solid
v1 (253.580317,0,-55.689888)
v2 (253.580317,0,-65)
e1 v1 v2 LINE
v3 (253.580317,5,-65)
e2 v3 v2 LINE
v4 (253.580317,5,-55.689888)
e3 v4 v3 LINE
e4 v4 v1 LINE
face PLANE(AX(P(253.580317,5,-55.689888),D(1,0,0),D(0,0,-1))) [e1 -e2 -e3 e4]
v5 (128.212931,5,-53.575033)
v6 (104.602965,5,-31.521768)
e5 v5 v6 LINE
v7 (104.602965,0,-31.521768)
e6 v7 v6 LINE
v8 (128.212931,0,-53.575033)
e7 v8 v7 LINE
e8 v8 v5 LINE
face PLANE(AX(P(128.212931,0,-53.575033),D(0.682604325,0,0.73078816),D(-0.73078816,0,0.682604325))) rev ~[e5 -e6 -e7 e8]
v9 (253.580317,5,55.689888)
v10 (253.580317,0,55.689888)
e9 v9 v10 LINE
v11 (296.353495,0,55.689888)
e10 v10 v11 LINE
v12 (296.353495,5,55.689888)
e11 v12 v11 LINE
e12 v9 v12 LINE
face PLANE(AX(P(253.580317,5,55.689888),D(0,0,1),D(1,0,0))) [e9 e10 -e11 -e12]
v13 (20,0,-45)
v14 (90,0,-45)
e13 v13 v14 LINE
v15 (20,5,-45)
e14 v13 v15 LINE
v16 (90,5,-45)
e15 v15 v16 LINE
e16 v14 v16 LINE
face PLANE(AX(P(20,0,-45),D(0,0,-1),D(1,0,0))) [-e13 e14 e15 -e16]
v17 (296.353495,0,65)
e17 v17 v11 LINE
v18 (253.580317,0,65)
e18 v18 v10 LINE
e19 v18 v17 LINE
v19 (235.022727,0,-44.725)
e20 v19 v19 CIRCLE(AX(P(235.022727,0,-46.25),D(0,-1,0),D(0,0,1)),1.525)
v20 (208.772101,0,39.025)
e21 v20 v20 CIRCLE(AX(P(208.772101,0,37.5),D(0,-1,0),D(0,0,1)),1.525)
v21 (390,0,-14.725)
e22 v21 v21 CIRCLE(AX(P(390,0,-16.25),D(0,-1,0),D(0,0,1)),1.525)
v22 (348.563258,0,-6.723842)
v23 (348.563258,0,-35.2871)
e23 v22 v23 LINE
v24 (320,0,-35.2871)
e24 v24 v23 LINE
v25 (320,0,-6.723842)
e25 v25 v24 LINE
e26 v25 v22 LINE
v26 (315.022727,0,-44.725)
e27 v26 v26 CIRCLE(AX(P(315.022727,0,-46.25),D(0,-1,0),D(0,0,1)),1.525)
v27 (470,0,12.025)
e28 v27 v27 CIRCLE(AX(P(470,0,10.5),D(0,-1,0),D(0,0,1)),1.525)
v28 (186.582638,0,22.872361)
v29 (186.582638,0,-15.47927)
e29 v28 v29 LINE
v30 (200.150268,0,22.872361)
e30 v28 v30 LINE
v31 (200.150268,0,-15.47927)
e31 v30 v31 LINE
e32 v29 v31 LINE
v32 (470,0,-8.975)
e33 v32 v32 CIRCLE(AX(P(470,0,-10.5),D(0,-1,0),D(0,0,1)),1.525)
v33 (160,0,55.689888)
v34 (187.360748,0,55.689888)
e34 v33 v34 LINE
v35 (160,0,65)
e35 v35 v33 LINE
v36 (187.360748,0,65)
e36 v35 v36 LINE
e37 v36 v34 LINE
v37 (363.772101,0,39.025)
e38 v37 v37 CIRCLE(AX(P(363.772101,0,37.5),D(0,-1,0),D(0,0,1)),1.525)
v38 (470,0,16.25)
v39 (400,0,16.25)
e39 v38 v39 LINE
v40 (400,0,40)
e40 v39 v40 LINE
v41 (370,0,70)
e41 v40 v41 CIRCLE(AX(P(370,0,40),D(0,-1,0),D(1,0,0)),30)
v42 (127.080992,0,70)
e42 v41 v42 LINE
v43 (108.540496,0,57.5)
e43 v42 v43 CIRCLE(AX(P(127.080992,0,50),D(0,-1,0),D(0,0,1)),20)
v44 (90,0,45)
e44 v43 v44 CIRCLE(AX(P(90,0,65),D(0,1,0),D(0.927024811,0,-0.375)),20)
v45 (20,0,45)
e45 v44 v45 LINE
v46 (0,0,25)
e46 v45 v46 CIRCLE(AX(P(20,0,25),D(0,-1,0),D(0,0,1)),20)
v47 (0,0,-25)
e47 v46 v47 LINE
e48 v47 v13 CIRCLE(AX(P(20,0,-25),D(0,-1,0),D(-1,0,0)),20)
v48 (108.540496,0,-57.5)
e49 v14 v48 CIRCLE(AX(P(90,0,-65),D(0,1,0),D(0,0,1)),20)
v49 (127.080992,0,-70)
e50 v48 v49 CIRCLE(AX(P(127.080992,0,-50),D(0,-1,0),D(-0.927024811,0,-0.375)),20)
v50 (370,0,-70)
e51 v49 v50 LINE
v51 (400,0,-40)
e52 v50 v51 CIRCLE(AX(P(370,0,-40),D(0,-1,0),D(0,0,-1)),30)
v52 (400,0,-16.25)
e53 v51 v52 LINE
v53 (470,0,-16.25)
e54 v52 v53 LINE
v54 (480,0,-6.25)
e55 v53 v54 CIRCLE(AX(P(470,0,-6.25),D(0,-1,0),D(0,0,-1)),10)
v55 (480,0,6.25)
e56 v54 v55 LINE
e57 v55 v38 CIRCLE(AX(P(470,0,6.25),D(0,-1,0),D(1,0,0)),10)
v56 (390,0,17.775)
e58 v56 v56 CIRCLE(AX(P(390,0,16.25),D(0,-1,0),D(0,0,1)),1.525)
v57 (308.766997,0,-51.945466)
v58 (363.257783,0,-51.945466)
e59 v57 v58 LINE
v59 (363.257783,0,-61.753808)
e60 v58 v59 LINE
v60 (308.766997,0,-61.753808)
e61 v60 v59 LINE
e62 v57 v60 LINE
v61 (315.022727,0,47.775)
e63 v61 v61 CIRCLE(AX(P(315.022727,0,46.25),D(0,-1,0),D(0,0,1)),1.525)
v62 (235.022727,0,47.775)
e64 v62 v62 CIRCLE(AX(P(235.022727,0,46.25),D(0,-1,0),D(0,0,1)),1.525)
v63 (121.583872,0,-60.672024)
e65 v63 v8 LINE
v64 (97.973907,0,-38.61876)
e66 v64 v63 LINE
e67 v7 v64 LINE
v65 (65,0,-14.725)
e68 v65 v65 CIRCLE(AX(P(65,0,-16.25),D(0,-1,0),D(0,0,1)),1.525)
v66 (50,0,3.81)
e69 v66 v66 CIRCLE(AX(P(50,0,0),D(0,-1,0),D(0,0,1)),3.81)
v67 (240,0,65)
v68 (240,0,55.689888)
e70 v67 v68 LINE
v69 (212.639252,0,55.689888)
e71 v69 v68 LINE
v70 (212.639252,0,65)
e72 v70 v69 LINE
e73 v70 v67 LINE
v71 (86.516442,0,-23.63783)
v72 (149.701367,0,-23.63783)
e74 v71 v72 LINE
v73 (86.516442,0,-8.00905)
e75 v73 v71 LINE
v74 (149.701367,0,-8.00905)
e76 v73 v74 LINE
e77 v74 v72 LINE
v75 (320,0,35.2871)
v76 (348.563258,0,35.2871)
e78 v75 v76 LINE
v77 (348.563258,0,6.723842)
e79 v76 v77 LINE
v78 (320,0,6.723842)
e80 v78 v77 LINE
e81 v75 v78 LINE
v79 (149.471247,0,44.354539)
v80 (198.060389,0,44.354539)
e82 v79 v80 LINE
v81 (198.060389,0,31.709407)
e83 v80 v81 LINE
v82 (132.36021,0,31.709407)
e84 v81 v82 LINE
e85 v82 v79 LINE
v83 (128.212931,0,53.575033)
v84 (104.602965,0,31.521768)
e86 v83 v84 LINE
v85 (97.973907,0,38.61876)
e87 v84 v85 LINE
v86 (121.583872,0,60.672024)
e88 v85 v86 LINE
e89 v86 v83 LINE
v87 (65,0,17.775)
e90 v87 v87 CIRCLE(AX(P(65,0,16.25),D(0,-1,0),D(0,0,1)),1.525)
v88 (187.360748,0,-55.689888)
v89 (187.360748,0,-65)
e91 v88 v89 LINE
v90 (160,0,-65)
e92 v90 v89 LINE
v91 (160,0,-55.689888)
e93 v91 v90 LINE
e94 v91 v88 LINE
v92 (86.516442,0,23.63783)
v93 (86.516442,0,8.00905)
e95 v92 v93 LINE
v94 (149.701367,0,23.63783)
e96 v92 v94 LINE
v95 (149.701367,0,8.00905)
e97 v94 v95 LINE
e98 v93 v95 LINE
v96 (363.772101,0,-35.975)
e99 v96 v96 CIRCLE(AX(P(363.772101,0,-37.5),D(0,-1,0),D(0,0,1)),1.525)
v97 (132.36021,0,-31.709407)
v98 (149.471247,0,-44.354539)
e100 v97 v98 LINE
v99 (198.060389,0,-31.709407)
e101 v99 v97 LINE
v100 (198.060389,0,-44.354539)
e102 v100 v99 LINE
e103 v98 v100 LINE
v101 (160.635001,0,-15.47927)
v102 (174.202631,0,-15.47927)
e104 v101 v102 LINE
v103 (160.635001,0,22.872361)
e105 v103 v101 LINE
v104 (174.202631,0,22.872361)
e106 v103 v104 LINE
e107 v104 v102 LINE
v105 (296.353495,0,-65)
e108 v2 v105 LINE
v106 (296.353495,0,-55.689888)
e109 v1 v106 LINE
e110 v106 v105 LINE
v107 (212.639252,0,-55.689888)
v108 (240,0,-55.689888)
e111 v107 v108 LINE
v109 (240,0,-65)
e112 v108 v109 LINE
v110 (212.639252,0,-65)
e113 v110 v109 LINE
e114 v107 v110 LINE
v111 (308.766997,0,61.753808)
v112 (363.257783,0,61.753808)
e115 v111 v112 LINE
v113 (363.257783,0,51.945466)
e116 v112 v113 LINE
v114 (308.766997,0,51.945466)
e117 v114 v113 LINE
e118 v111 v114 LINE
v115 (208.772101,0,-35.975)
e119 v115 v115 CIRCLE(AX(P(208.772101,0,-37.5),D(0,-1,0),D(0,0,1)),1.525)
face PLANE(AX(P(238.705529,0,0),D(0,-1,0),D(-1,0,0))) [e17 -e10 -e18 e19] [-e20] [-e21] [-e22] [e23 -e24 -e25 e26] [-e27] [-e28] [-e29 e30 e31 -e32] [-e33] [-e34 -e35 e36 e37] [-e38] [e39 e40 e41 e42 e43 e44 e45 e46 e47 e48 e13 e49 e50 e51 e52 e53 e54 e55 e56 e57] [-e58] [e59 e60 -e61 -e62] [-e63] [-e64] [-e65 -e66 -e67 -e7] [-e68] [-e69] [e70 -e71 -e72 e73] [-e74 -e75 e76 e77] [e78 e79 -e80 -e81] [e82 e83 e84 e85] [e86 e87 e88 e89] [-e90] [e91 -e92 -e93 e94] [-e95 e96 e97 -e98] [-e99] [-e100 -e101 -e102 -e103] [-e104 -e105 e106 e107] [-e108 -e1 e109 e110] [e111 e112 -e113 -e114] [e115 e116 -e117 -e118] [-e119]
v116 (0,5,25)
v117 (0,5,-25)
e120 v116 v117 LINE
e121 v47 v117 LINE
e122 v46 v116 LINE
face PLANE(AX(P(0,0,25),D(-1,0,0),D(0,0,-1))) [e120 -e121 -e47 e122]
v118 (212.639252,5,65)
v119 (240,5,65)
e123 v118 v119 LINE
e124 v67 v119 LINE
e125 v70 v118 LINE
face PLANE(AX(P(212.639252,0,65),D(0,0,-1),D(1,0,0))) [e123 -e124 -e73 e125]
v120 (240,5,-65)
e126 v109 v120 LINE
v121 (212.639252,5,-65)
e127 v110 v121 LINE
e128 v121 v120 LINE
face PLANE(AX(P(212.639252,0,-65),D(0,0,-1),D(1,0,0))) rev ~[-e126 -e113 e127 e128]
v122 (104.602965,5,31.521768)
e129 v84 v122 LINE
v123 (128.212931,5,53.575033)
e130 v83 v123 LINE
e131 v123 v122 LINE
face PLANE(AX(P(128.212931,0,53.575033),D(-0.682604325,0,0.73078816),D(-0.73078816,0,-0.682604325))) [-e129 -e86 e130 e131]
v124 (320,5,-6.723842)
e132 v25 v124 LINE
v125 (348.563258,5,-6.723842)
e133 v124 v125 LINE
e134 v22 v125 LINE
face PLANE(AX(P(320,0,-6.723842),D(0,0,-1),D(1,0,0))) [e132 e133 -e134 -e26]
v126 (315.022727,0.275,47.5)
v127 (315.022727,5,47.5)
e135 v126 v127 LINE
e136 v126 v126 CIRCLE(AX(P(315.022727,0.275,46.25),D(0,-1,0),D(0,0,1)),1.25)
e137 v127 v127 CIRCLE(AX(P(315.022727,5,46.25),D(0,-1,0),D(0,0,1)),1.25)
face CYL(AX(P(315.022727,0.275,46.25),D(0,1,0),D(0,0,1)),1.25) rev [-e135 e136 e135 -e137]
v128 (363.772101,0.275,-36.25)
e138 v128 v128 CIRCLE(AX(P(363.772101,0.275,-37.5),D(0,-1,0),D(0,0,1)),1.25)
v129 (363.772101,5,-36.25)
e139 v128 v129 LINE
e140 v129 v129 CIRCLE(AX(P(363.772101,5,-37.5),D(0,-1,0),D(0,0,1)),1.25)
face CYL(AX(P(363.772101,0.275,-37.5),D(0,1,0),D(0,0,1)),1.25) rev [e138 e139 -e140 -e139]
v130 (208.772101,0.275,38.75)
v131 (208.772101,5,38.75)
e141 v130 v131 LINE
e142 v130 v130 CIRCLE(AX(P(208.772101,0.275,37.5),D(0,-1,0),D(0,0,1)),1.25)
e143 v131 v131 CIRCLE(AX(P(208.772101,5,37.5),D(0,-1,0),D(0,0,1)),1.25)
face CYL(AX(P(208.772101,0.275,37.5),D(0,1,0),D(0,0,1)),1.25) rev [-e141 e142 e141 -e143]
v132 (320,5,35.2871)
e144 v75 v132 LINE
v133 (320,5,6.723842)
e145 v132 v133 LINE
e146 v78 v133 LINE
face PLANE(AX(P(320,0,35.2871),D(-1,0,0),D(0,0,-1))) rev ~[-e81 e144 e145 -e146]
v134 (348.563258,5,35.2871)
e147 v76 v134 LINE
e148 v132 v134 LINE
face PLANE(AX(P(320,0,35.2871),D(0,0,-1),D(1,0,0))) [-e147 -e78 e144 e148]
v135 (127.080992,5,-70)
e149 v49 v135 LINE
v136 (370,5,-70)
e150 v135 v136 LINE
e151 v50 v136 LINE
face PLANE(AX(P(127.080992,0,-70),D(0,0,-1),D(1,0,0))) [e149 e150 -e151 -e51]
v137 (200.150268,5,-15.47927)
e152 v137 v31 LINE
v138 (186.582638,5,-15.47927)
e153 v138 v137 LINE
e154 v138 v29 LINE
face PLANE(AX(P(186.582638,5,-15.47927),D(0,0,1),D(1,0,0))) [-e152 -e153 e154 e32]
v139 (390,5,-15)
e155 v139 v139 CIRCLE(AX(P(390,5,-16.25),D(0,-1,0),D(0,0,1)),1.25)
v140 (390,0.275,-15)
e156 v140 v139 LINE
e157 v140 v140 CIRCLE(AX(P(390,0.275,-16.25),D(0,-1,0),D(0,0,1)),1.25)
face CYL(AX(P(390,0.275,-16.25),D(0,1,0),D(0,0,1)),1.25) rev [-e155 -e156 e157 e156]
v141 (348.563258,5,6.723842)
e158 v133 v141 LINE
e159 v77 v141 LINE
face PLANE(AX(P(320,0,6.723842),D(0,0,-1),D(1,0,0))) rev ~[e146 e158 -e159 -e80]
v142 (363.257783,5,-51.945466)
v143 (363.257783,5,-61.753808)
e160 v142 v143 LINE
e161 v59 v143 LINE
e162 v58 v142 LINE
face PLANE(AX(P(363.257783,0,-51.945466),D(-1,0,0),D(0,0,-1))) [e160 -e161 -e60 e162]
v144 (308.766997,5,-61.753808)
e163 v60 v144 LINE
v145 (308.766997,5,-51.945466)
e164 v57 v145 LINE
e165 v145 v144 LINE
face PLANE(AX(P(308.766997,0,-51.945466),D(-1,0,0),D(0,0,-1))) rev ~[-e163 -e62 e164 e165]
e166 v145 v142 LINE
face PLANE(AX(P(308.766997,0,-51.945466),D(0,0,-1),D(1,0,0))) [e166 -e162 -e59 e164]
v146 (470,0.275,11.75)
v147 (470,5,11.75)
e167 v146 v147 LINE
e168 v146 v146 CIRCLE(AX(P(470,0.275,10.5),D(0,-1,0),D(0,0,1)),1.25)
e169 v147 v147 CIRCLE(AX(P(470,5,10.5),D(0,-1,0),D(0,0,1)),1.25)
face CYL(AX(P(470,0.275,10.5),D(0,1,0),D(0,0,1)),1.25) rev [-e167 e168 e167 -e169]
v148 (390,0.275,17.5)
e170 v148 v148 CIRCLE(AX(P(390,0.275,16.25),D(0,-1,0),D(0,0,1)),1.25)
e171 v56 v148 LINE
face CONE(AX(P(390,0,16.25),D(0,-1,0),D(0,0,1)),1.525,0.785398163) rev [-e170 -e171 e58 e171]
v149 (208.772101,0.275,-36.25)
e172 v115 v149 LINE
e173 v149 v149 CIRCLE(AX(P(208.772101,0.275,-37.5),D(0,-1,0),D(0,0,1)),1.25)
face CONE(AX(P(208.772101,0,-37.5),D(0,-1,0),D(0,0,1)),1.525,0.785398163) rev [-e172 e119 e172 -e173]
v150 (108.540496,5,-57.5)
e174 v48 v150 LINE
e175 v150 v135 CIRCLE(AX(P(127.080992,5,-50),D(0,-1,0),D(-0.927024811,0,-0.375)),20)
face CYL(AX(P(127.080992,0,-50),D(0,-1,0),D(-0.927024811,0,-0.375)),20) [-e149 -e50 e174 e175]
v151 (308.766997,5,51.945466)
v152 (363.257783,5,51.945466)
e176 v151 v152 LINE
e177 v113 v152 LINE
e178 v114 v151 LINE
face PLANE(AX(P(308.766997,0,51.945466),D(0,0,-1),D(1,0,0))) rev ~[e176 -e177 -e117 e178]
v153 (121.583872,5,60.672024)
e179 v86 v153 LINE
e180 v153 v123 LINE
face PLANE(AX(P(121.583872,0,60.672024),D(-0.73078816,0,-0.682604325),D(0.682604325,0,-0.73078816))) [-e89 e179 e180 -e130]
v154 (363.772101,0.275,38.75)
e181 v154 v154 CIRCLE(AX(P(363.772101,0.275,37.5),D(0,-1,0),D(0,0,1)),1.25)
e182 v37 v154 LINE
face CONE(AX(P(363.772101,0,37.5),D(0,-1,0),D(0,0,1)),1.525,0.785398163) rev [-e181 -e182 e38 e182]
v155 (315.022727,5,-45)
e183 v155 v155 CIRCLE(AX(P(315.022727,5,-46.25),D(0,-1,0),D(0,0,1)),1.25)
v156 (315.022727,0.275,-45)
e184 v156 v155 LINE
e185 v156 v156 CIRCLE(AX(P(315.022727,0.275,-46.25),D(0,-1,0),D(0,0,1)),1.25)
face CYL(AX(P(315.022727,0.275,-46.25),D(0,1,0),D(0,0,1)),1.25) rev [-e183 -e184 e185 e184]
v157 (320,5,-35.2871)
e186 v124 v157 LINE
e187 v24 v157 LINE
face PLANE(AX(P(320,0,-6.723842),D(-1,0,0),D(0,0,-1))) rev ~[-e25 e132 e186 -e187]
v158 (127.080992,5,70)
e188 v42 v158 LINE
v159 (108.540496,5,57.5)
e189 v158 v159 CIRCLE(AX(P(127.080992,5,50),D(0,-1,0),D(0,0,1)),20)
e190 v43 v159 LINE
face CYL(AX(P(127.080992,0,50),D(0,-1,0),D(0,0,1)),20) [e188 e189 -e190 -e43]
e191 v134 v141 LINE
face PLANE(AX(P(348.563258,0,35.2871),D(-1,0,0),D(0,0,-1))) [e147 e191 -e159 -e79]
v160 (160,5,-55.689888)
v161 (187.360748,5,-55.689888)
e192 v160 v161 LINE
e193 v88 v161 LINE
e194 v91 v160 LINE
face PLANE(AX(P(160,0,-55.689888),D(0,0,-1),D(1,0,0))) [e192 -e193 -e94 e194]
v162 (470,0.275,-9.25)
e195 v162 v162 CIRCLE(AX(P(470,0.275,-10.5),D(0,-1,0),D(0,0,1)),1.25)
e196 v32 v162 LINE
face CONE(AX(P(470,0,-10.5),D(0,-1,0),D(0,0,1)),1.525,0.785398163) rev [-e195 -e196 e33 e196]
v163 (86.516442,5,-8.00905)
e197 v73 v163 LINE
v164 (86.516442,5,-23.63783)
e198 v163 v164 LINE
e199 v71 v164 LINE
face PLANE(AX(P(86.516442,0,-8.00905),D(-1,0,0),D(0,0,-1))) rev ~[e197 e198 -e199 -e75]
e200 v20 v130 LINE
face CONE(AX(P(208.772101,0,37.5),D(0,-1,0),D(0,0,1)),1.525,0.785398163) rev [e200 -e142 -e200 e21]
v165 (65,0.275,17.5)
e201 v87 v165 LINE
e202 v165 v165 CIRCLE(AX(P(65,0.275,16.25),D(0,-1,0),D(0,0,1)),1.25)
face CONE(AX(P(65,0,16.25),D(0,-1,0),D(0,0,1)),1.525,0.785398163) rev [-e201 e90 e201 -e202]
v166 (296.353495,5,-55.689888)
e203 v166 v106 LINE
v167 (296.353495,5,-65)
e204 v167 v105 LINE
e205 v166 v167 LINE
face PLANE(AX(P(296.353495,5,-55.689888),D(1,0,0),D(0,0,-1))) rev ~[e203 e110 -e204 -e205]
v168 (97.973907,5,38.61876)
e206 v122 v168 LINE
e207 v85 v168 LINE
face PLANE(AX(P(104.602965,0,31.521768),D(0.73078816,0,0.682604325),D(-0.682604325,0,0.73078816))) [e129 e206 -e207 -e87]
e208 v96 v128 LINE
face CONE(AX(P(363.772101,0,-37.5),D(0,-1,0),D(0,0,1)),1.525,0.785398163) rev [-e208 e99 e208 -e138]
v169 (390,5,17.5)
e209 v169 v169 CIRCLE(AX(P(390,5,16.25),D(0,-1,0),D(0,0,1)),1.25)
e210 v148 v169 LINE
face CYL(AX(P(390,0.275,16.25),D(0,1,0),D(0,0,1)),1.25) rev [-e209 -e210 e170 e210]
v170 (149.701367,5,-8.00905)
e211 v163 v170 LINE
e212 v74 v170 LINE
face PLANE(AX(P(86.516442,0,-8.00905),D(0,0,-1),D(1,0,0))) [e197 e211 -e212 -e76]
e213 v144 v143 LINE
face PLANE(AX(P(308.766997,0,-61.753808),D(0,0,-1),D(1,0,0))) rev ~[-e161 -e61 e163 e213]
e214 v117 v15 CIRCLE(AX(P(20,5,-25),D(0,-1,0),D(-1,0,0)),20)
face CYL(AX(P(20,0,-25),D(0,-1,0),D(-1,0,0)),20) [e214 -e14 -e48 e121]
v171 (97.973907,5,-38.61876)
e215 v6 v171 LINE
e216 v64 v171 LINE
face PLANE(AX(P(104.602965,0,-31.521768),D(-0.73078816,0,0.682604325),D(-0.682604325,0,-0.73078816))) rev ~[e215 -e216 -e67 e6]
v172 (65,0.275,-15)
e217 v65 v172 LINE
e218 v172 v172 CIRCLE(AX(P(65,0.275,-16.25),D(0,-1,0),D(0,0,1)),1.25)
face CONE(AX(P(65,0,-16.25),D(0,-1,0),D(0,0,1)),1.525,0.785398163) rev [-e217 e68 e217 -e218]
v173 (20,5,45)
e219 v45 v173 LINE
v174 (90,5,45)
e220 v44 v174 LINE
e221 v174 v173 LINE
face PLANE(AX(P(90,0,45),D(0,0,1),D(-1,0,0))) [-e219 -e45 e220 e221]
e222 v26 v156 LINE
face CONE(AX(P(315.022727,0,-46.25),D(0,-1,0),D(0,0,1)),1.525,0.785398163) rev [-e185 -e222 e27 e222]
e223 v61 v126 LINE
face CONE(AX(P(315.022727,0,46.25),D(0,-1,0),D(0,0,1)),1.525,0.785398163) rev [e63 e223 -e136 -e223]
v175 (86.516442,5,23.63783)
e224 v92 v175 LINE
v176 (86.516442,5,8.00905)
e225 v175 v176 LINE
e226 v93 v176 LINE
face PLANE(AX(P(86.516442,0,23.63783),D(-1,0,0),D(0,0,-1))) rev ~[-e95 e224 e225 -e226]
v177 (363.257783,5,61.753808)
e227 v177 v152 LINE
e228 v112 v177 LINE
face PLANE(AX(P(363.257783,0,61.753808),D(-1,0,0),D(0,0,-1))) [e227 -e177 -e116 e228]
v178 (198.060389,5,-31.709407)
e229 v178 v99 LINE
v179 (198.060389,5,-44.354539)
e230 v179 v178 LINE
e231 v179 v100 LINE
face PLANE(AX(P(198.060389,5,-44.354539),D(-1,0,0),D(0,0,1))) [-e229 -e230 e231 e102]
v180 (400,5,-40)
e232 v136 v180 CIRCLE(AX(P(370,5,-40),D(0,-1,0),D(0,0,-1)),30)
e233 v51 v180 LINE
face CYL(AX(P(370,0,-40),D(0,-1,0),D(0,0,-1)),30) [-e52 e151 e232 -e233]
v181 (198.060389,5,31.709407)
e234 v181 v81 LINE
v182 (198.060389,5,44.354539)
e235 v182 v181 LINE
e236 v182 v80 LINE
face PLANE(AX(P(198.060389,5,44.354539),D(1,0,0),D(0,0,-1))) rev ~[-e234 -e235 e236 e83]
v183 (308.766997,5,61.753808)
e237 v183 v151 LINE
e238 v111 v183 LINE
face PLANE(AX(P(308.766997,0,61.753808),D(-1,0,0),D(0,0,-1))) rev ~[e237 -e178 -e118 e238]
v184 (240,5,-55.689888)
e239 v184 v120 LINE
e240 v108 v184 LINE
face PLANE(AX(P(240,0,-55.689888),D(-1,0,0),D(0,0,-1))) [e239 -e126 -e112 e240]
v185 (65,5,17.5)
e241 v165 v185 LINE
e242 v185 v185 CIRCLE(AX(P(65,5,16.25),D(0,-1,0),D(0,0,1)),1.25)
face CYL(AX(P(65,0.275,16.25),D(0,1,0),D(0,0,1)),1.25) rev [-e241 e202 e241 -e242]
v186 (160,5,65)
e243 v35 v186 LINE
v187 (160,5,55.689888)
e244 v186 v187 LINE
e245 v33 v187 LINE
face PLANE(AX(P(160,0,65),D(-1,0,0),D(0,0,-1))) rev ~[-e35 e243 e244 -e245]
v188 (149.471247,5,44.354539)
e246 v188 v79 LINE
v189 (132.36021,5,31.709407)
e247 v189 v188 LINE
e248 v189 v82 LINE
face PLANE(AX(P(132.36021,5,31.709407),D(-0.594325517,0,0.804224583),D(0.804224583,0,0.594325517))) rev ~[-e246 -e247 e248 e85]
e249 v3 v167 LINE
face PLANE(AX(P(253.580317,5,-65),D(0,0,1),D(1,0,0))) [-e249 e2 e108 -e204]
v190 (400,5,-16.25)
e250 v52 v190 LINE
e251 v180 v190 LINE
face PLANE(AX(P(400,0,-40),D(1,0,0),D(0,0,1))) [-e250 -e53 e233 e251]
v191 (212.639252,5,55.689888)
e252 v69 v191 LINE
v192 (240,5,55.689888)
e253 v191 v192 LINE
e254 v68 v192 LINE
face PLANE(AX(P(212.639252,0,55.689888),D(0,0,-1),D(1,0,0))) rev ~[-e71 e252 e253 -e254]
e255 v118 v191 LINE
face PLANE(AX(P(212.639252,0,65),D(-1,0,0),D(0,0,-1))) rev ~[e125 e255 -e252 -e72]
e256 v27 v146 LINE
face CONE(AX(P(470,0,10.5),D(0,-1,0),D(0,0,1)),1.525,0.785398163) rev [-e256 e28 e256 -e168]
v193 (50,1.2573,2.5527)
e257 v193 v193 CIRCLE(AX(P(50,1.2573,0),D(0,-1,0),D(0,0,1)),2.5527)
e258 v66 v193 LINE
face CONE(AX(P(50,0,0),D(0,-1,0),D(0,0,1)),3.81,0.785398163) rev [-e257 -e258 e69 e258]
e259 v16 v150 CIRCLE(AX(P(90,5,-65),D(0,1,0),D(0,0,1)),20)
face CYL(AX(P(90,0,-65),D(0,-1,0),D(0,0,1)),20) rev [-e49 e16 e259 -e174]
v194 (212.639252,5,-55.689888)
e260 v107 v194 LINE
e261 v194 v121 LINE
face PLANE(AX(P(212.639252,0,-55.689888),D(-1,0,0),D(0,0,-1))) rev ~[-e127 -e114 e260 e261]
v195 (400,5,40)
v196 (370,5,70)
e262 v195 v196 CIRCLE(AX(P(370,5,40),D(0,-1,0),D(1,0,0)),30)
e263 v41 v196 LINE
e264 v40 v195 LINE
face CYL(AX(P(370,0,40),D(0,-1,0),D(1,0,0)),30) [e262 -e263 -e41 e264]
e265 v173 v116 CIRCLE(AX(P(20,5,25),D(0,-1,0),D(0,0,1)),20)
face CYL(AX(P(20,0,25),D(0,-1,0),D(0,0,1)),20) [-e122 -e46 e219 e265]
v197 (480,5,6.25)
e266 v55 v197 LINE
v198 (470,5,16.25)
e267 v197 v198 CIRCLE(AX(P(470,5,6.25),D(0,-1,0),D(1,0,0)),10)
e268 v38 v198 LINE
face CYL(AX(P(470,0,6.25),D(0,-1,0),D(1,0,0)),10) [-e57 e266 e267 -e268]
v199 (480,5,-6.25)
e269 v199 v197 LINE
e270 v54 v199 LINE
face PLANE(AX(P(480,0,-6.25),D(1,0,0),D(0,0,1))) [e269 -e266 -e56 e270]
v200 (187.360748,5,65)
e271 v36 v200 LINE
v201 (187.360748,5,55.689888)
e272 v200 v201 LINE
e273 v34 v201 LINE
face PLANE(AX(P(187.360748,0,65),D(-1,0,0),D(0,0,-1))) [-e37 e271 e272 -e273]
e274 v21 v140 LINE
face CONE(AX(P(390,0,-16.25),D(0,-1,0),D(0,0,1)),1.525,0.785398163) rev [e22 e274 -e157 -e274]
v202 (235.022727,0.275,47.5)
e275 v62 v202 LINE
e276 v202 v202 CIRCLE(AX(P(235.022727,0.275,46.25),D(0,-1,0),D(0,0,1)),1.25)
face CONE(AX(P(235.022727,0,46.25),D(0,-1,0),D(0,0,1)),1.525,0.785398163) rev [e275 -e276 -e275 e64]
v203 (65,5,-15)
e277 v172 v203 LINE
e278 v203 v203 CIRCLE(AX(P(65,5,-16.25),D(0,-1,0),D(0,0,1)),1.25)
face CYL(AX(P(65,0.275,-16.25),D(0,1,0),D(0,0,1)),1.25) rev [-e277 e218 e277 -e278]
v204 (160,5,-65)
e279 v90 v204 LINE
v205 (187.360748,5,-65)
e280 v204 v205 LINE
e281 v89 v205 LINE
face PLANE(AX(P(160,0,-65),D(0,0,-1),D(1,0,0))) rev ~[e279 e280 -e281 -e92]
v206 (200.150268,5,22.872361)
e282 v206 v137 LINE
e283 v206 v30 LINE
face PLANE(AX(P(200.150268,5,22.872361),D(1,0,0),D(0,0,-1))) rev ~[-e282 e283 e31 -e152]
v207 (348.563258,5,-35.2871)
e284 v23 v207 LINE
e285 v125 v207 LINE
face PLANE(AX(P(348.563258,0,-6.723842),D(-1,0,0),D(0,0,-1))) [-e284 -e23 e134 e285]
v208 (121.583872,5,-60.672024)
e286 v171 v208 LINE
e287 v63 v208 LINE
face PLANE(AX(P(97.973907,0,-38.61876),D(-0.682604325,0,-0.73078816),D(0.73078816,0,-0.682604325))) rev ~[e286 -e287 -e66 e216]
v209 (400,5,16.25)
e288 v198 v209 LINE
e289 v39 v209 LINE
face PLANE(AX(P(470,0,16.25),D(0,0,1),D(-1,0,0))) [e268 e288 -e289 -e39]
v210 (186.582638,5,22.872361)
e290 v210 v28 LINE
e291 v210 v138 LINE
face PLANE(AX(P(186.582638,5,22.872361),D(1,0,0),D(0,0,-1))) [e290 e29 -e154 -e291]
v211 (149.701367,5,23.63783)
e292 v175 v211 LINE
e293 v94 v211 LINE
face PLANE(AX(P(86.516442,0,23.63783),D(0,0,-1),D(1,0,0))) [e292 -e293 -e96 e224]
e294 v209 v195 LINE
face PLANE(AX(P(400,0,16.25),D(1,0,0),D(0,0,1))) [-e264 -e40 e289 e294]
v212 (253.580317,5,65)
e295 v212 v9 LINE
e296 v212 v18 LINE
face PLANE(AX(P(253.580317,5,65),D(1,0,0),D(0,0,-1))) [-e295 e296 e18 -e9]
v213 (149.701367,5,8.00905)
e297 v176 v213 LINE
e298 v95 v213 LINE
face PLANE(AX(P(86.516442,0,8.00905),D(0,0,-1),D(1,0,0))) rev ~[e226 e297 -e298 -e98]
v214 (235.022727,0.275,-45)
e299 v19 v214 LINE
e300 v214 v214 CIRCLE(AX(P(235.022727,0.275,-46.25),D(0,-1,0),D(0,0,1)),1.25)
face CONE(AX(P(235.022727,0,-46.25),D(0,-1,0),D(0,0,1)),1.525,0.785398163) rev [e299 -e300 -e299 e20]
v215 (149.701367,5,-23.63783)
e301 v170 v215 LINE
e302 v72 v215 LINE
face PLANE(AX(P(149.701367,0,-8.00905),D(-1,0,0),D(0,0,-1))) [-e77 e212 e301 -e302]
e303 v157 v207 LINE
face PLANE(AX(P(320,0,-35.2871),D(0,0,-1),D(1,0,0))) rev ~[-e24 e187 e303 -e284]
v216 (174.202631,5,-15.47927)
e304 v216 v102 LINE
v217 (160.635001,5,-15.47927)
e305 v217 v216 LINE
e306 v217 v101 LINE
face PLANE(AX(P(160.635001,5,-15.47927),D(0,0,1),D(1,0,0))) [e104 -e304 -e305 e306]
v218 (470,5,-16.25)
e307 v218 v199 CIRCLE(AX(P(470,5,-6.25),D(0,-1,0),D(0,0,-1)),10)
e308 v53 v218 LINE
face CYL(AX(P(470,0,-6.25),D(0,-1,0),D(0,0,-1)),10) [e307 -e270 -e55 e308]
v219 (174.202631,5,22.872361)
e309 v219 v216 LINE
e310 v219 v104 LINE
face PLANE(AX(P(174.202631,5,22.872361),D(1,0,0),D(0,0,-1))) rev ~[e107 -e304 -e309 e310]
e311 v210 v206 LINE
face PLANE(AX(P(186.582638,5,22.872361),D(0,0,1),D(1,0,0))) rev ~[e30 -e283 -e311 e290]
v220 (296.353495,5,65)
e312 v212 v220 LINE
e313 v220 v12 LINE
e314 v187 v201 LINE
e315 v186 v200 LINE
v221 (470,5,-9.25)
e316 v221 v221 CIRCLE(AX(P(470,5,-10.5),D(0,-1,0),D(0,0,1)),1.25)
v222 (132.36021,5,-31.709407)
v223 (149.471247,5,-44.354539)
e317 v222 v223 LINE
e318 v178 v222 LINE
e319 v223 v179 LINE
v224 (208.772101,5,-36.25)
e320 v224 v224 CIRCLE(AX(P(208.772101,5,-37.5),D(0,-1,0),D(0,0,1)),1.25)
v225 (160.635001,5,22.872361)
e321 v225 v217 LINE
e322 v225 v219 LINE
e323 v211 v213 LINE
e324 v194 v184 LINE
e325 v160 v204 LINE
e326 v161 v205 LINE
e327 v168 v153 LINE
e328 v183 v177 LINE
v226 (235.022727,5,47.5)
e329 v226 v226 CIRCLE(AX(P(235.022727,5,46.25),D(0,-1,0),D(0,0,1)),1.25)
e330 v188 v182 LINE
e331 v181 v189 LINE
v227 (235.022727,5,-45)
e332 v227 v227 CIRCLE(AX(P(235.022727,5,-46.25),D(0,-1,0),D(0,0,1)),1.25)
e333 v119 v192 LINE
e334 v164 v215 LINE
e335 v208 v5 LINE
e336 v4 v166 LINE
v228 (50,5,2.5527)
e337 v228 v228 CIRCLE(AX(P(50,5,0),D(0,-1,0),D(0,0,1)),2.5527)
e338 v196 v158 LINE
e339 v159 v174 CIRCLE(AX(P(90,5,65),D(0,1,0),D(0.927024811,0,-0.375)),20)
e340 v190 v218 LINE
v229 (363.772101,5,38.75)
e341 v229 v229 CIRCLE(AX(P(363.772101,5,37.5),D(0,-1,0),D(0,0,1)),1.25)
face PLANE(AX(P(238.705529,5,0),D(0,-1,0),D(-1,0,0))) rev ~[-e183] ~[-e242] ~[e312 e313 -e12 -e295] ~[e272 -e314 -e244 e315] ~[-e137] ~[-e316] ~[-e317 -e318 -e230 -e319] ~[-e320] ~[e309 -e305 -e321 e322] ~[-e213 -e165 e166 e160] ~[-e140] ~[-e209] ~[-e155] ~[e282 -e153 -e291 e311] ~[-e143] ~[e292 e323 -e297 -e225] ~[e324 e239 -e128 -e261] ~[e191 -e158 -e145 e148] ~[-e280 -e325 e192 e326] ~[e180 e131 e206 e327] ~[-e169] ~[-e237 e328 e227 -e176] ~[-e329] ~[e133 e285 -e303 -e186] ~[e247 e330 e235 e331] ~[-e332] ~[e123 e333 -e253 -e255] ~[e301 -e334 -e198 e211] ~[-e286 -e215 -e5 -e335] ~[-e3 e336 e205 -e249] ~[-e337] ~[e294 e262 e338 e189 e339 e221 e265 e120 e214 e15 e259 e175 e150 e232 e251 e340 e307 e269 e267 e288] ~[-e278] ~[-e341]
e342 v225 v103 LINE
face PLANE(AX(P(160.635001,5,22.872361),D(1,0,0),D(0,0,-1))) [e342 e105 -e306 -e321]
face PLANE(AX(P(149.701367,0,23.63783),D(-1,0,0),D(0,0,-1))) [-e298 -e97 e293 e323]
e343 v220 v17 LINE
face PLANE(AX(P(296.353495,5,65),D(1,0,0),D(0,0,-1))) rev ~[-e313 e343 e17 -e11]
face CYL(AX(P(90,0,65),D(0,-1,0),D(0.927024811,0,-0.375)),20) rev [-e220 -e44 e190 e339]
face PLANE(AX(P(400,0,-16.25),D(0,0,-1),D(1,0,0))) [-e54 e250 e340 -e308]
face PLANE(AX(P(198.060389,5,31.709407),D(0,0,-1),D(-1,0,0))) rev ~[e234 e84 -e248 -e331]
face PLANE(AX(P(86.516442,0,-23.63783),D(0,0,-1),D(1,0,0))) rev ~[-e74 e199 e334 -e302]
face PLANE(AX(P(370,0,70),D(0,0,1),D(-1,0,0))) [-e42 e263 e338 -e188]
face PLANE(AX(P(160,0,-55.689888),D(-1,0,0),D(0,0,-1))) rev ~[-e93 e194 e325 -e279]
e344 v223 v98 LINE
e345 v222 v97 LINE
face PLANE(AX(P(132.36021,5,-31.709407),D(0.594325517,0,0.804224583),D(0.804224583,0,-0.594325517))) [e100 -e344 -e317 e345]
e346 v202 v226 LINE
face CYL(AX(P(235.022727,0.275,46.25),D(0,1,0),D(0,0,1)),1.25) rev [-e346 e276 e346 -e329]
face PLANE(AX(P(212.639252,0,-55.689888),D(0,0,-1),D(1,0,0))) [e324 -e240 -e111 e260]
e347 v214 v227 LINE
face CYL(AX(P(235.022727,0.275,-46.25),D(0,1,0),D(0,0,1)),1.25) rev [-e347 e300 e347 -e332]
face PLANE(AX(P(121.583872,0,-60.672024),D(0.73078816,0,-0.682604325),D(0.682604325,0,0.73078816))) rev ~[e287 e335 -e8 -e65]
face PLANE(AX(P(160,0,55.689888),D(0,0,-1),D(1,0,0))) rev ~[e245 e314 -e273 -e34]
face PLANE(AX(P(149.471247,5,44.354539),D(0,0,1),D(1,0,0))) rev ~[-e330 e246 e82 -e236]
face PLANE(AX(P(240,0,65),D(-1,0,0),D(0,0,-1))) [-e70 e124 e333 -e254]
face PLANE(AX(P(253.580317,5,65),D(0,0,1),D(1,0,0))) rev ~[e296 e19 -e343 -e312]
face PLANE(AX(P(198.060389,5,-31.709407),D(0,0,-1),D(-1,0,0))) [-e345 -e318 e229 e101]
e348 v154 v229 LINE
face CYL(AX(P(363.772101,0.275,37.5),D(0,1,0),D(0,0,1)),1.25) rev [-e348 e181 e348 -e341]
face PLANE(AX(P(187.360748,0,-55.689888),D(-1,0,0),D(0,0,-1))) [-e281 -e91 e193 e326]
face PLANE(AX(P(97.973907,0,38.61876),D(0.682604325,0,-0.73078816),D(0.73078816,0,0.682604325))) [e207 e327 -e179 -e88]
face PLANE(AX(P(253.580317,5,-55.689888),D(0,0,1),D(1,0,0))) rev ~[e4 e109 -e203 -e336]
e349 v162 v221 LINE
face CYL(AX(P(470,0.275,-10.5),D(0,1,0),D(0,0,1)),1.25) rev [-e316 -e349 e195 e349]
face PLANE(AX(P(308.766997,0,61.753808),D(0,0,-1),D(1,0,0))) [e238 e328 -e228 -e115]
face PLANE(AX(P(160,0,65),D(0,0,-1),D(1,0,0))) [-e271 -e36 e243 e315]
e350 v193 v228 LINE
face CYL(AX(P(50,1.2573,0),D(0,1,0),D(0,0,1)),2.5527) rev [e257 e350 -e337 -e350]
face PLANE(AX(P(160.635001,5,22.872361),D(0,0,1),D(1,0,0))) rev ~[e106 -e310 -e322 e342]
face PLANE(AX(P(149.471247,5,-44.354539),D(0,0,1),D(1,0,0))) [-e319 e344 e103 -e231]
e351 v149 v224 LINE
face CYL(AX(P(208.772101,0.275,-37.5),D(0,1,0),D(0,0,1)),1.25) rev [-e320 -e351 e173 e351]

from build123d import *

# Parameters (mm, degrees)
SKETCH1_W                       = 27.36074774
SKETCH1_H                       = 9.31011233
SKETCH1_W_2                     = 63.184924932
SKETCH1_H_2                     = 15.628780018
SKETCH1_W_3                     = 28.563258108
SKETCH1_H_3                     = 28.563258107
SKETCH1_W_4                     = 54.490786644
SKETCH1_H_4                     = 9.808341596
BOSS_EXTRUDE2_DEPTH             = 5
M3X0_5_TAPPED_HOLE1_AT_2_COUNT  = 2
M3X0_5_TAPPED_HOLE1_AT_2_PITCH  = 84.353793631
M3X0_5_TAPPED_HOLE1_AT_3_COUNT  = 2
M3X0_5_TAPPED_HOLE1_AT_3_PITCH  = 80.206374435
M3X0_5_TAPPED_HOLE1_AT_4_COUNT  = 2
M3X0_5_TAPPED_HOLE1_AT_4_PITCH  = 116.569149337
M3X0_5_TAPPED_HOLE1_AT_5_COUNT  = 2
M3X0_5_TAPPED_HOLE1_AT_5_PITCH  = 109.605504319
M3X0_5_TAPPED_HOLE1_AT_6_COUNT  = 2
M3X0_5_TAPPED_HOLE1_AT_6_PITCH  = 241.733079083
M3X0_5_TAPPED_HOLE1_AT_7_COUNT  = 2
M3X0_5_TAPPED_HOLE1_AT_7_PITCH  = 165.040957875
M3X0_5_TAPPED_HOLE1_AT_8_COUNT  = 2
M3X0_5_TAPPED_HOLE1_AT_8_PITCH  = 159.0472187
M3X0_5_TAPPED_HOLE1_AT_9_COUNT  = 2
M3X0_5_TAPPED_HOLE1_AT_9_PITCH  = 237.681260353
M3X0_5_TAPPED_HOLE1_AT_10_COUNT = 2
M3X0_5_TAPPED_HOLE1_AT_10_PITCH = 265.601233698
M3X0_5_TAPPED_HOLE1_AT_11_COUNT = 2
M3X0_5_TAPPED_HOLE1_AT_11_PITCH = 262.61952582
M3X0_5_TAPPED_HOLE1_AT_12_COUNT = 2
M3X0_5_TAPPED_HOLE1_AT_12_PITCH = 405.882449116
M3X0_5_TAPPED_HOLE1_AT_13_COUNT = 2
M3X0_5_TAPPED_HOLE1_AT_13_PITCH = 405.040815845
M3X0_5_TAPPED_HOLE1_AT_14_COUNT = 2
M3X0_5_TAPPED_HOLE1_AT_14_PITCH = 21
SKETCH12_W                      = 13.567630433
SKETCH12_H                      = 38.351630467
SKETCH12_W_2                    = 42.773178661
SKETCH12_H_2                    = 9.31011233
CUT_EXTRUDE1_DEPTH              = 5


with BuildPart() as part:
    # Sketch1 → Boss-Extrude2 (new body)
    with BuildSketch(Plane(origin=(0, 0, 0), x_dir=(1, 0, 0), z_dir=(0, 1, 0))):
        with BuildLine():
            Line((0, -25), (0, 25))
            ThreePointArc((0, 25), (5.857864376, 39.142135624), (20, 45))
            Line((20, 45), (90, 45))
            ThreePointArc((90, 45), (101.180339887, 48.416876048), (108.540496218, 57.5))
            ThreePointArc((108.540496218, 57.5), (115.900652548, 66.583123952), (127.080992435, 70))
            Line((127.080992435, 70), (370, 70))
            ThreePointArc((370, 70), (391.213203436, 61.213203436), (400, 40))
            Line((400, 40), (400, 16.25))
            Line((400, 16.25), (470, 16.25))
            ThreePointArc((470, 16.25), (477.071067812, 13.321067812), (480, 6.25))
            Line((480, 6.25), (480, -6.25))
            ThreePointArc((480, -6.25), (477.071067812, -13.321067812), (470, -16.25))
            Line((470, -16.25), (400, -16.25))
            Line((400, -16.25), (400, -40))
            ThreePointArc((400, -40), (391.213203436, -61.213203436), (370, -70))
            Line((370, -70), (127.080992435, -70))
            ThreePointArc((127.080992435, -70), (115.900652548, -66.583123952), (108.540496218, -57.5))
            ThreePointArc((108.540496218, -57.5), (101.180339887, -48.416876048), (90, -45))
            Line((90, -45), (20, -45))
            ThreePointArc((20, -45), (5.857864376, -39.142135624), (0, -25))
        make_face()
        Polygon((97.973907034, 38.618759958), (121.583872386, 60.672024298), (128.212930651, 53.575032509), (104.602965298, 31.521768169), align=None, mode=Mode.SUBTRACT)
        with Locations((173.68037387, 60.344943835)):
            Rectangle(SKETCH1_W, SKETCH1_H, mode=Mode.SUBTRACT)
        with Locations((226.31962613, 60.344943835)):
            Rectangle(SKETCH1_W, SKETCH1_H, mode=Mode.SUBTRACT)
        Polygon((121.583872386, -60.672024298), (128.212930651, -53.575032509), (104.602965298, -31.521768169), (97.973907034, -38.618759958), align=None, mode=Mode.SUBTRACT)
        with Locations((118.108904399, 15.823440219)):
            Rectangle(SKETCH1_W_2, SKETCH1_H_2, mode=Mode.SUBTRACT)
        with Locations((334.281629054, 21.005470916)):
            Rectangle(SKETCH1_W_3, SKETCH1_H_3, mode=Mode.SUBTRACT)
        with Locations((336.01238987, 56.849636781)):
            Rectangle(SKETCH1_W_4, SKETCH1_H_4, mode=Mode.SUBTRACT)
        with Locations((173.68037387, -60.344943835)):
            Rectangle(SKETCH1_W, SKETCH1_H, mode=Mode.SUBTRACT)
        with Locations((226.31962613, -60.344943835)):
            Rectangle(SKETCH1_W, SKETCH1_H, mode=Mode.SUBTRACT)
        with Locations((336.01238987, -56.849636781)):
            Rectangle(SKETCH1_W_4, SKETCH1_H_4, mode=Mode.SUBTRACT)
        with Locations((334.281629054, -21.005470916)):
            Rectangle(SKETCH1_W_3, SKETCH1_H_3, mode=Mode.SUBTRACT)
        with Locations((118.108904399, -15.823440219)):
            Rectangle(SKETCH1_W_2, SKETCH1_H_2, mode=Mode.SUBTRACT)
    extrude(amount=BOSS_EXTRUDE2_DEPTH)

    # Sketch7 → M3x0.5 Tapped Hole1 (revolve, cut)
    with BuildSketch(Plane(origin=(470, 5, 10.5), x_dir=(0, 0, 1), z_dir=(1, 0, 0))):
        Polygon((0, 0), (0, 5), (1.525, 5), (1.25, 4.725), (1.25, 0), align=None)
    m3x0_5_tapped_hole1 = revolve(axis=Axis((470, 11.35, 10.5), (0, -1, 0)), mode=Mode.SUBTRACT)

    # M3x0.5 Tapped Hole1 at 2: M3x0.5 Tapped Hole1 ×2
    with Locations(*[Vector(-0.9483865106248197, 0, -0.3171167394901739) * (i * M3X0_5_TAPPED_HOLE1_AT_2_PITCH) for i in range(1, M3X0_5_TAPPED_HOLE1_AT_2_COUNT)]):
        add(m3x0_5_tapped_hole1, mode=Mode.SUBTRACT)

    # M3x0.5 Tapped Hole1 at 3: M3x0.5 Tapped Hole1 ×2
    with Locations(*[Vector(-0.9974269571912754, 0, 0.07169006254812285) * (i * M3X0_5_TAPPED_HOLE1_AT_3_PITCH) for i in range(1, M3X0_5_TAPPED_HOLE1_AT_3_COUNT)]):
        add(m3x0_5_tapped_hole1, mode=Mode.SUBTRACT)

    # M3x0.5 Tapped Hole1 at 4: M3x0.5 Tapped Hole1 ×2
    with Locations(*[Vector(-0.9112865611968157, 0, -0.4117727569692806) * (i * M3X0_5_TAPPED_HOLE1_AT_4_PITCH) for i in range(1, M3X0_5_TAPPED_HOLE1_AT_4_COUNT)]):
        add(m3x0_5_tapped_hole1, mode=Mode.SUBTRACT)

    # M3x0.5 Tapped Hole1 at 5: M3x0.5 Tapped Hole1 ×2
    with Locations(*[Vector(-0.9691839830527866, 0, 0.24633799340324214) * (i * M3X0_5_TAPPED_HOLE1_AT_5_PITCH) for i in range(1, M3X0_5_TAPPED_HOLE1_AT_5_COUNT)]):
        add(m3x0_5_tapped_hole1, mode=Mode.SUBTRACT)

    # M3x0.5 Tapped Hole1 at 6: M3x0.5 Tapped Hole1 ×2
    with Locations(*[Vector(-0.972052622294702, 0, -0.23476307096729135) * (i * M3X0_5_TAPPED_HOLE1_AT_6_PITCH) for i in range(1, M3X0_5_TAPPED_HOLE1_AT_6_COUNT)]):
        add(m3x0_5_tapped_hole1, mode=Mode.SUBTRACT)

    # M3x0.5 Tapped Hole1 at 7: M3x0.5 Tapped Hole1 ×2
    with Locations(*[Vector(-0.9390231092578303, 0, -0.34385403920814583) * (i * M3X0_5_TAPPED_HOLE1_AT_7_PITCH) for i in range(1, M3X0_5_TAPPED_HOLE1_AT_7_COUNT)]):
        add(m3x0_5_tapped_hole1, mode=Mode.SUBTRACT)

    # M3x0.5 Tapped Hole1 at 8: M3x0.5 Tapped Hole1 ×2
    with Locations(*[Vector(-0.9744104592657841, 0, 0.22477601489804) * (i * M3X0_5_TAPPED_HOLE1_AT_8_PITCH) for i in range(1, M3X0_5_TAPPED_HOLE1_AT_8_COUNT)]):
        add(m3x0_5_tapped_hole1, mode=Mode.SUBTRACT)

    # M3x0.5 Tapped Hole1 at 9: M3x0.5 Tapped Hole1 ×2
    with Locations(*[Vector(-0.98862347443418, 0, 0.15041152149250553) * (i * M3X0_5_TAPPED_HOLE1_AT_9_PITCH) for i in range(1, M3X0_5_TAPPED_HOLE1_AT_9_COUNT)]):
        add(m3x0_5_tapped_hole1, mode=Mode.SUBTRACT)

    # M3x0.5 Tapped Hole1 at 10: M3x0.5 Tapped Hole1 ×2
    with Locations(*[Vector(-0.9835342087984568, 0, -0.18072205212201886) * (i * M3X0_5_TAPPED_HOLE1_AT_10_PITCH) for i in range(1, M3X0_5_TAPPED_HOLE1_AT_10_COUNT)]):
        add(m3x0_5_tapped_hole1, mode=Mode.SUBTRACT)

    # M3x0.5 Tapped Hole1 at 11: M3x0.5 Tapped Hole1 ×2
    with Locations(*[Vector(-0.994700978251516, 0, 0.10281032956603646) * (i * M3X0_5_TAPPED_HOLE1_AT_11_PITCH) for i in range(1, M3X0_5_TAPPED_HOLE1_AT_11_COUNT)]):
        add(m3x0_5_tapped_hole1, mode=Mode.SUBTRACT)

    # M3x0.5 Tapped Hole1 at 12: M3x0.5 Tapped Hole1 ×2
    with Locations(*[Vector(-0.9978258505204469, 0, -0.0659057814849869) * (i * M3X0_5_TAPPED_HOLE1_AT_12_PITCH) for i in range(1, M3X0_5_TAPPED_HOLE1_AT_12_COUNT)]):
        add(m3x0_5_tapped_hole1, mode=Mode.SUBTRACT)

    # M3x0.5 Tapped Hole1 at 13: M3x0.5 Tapped Hole1 ×2
    with Locations(*[Vector(-0.9998992302925277, 0, 0.014196100183171115) * (i * M3X0_5_TAPPED_HOLE1_AT_13_PITCH) for i in range(1, M3X0_5_TAPPED_HOLE1_AT_13_COUNT)]):
        add(m3x0_5_tapped_hole1, mode=Mode.SUBTRACT)

    # M3x0.5 Tapped Hole1 at 14: M3x0.5 Tapped Hole1 ×2
    with Locations(*[(0, 0, -i * M3X0_5_TAPPED_HOLE1_AT_14_PITCH) for i in range(1, M3X0_5_TAPPED_HOLE1_AT_14_COUNT)]):
        add(m3x0_5_tapped_hole1, mode=Mode.SUBTRACT)

    # Sketch9 → 1/4-20 Tapped Hole1 (revolve, cut)
    with BuildSketch(Plane(origin=(50, 5, 0), x_dir=(0, 0, 1), z_dir=(1, 0, 0))):
        Polygon((0, 0), (0, 5), (3.81, 5), (2.5527, 3.7427), (2.5527, 0), align=None)
    revolve(axis=Axis((50, 11.35, 0), (0, -1, 0)), mode=Mode.SUBTRACT)

    # Sketch12 → Cut-Extrude1 (cut)
    with BuildSketch(Plane(origin=(0, 5, 0), x_dir=(1, 0, 0), z_dir=(0, 1, 0))):
        with Locations((167.418815824, -3.696545403)):
            Rectangle(SKETCH12_W, SKETCH12_H)
        with Locations((193.366452745, -3.696545403)):
            Rectangle(SKETCH12_W, SKETCH12_H)
        with Locations((274.966905924, 60.344943835)):
            Rectangle(SKETCH12_W_2, SKETCH12_H_2)
        with Locations((274.966905924, -60.344943835)):
            Rectangle(SKETCH12_W_2, SKETCH12_H_2)
        Polygon((132.36021003, 31.709406718), (149.471247182, 44.35453871), (198.060388772, 44.35453871), (198.060388772, 31.709406718), align=None)
        Polygon((198.060388772, -31.709406718), (132.36021003, -31.709406718), (149.471247182, -44.35453871), (198.060388772, -44.35453871), align=None)
    extrude(amount=-CUT_EXTRUDE1_DEPTH, mode=Mode.SUBTRACT)


solid = part.part
